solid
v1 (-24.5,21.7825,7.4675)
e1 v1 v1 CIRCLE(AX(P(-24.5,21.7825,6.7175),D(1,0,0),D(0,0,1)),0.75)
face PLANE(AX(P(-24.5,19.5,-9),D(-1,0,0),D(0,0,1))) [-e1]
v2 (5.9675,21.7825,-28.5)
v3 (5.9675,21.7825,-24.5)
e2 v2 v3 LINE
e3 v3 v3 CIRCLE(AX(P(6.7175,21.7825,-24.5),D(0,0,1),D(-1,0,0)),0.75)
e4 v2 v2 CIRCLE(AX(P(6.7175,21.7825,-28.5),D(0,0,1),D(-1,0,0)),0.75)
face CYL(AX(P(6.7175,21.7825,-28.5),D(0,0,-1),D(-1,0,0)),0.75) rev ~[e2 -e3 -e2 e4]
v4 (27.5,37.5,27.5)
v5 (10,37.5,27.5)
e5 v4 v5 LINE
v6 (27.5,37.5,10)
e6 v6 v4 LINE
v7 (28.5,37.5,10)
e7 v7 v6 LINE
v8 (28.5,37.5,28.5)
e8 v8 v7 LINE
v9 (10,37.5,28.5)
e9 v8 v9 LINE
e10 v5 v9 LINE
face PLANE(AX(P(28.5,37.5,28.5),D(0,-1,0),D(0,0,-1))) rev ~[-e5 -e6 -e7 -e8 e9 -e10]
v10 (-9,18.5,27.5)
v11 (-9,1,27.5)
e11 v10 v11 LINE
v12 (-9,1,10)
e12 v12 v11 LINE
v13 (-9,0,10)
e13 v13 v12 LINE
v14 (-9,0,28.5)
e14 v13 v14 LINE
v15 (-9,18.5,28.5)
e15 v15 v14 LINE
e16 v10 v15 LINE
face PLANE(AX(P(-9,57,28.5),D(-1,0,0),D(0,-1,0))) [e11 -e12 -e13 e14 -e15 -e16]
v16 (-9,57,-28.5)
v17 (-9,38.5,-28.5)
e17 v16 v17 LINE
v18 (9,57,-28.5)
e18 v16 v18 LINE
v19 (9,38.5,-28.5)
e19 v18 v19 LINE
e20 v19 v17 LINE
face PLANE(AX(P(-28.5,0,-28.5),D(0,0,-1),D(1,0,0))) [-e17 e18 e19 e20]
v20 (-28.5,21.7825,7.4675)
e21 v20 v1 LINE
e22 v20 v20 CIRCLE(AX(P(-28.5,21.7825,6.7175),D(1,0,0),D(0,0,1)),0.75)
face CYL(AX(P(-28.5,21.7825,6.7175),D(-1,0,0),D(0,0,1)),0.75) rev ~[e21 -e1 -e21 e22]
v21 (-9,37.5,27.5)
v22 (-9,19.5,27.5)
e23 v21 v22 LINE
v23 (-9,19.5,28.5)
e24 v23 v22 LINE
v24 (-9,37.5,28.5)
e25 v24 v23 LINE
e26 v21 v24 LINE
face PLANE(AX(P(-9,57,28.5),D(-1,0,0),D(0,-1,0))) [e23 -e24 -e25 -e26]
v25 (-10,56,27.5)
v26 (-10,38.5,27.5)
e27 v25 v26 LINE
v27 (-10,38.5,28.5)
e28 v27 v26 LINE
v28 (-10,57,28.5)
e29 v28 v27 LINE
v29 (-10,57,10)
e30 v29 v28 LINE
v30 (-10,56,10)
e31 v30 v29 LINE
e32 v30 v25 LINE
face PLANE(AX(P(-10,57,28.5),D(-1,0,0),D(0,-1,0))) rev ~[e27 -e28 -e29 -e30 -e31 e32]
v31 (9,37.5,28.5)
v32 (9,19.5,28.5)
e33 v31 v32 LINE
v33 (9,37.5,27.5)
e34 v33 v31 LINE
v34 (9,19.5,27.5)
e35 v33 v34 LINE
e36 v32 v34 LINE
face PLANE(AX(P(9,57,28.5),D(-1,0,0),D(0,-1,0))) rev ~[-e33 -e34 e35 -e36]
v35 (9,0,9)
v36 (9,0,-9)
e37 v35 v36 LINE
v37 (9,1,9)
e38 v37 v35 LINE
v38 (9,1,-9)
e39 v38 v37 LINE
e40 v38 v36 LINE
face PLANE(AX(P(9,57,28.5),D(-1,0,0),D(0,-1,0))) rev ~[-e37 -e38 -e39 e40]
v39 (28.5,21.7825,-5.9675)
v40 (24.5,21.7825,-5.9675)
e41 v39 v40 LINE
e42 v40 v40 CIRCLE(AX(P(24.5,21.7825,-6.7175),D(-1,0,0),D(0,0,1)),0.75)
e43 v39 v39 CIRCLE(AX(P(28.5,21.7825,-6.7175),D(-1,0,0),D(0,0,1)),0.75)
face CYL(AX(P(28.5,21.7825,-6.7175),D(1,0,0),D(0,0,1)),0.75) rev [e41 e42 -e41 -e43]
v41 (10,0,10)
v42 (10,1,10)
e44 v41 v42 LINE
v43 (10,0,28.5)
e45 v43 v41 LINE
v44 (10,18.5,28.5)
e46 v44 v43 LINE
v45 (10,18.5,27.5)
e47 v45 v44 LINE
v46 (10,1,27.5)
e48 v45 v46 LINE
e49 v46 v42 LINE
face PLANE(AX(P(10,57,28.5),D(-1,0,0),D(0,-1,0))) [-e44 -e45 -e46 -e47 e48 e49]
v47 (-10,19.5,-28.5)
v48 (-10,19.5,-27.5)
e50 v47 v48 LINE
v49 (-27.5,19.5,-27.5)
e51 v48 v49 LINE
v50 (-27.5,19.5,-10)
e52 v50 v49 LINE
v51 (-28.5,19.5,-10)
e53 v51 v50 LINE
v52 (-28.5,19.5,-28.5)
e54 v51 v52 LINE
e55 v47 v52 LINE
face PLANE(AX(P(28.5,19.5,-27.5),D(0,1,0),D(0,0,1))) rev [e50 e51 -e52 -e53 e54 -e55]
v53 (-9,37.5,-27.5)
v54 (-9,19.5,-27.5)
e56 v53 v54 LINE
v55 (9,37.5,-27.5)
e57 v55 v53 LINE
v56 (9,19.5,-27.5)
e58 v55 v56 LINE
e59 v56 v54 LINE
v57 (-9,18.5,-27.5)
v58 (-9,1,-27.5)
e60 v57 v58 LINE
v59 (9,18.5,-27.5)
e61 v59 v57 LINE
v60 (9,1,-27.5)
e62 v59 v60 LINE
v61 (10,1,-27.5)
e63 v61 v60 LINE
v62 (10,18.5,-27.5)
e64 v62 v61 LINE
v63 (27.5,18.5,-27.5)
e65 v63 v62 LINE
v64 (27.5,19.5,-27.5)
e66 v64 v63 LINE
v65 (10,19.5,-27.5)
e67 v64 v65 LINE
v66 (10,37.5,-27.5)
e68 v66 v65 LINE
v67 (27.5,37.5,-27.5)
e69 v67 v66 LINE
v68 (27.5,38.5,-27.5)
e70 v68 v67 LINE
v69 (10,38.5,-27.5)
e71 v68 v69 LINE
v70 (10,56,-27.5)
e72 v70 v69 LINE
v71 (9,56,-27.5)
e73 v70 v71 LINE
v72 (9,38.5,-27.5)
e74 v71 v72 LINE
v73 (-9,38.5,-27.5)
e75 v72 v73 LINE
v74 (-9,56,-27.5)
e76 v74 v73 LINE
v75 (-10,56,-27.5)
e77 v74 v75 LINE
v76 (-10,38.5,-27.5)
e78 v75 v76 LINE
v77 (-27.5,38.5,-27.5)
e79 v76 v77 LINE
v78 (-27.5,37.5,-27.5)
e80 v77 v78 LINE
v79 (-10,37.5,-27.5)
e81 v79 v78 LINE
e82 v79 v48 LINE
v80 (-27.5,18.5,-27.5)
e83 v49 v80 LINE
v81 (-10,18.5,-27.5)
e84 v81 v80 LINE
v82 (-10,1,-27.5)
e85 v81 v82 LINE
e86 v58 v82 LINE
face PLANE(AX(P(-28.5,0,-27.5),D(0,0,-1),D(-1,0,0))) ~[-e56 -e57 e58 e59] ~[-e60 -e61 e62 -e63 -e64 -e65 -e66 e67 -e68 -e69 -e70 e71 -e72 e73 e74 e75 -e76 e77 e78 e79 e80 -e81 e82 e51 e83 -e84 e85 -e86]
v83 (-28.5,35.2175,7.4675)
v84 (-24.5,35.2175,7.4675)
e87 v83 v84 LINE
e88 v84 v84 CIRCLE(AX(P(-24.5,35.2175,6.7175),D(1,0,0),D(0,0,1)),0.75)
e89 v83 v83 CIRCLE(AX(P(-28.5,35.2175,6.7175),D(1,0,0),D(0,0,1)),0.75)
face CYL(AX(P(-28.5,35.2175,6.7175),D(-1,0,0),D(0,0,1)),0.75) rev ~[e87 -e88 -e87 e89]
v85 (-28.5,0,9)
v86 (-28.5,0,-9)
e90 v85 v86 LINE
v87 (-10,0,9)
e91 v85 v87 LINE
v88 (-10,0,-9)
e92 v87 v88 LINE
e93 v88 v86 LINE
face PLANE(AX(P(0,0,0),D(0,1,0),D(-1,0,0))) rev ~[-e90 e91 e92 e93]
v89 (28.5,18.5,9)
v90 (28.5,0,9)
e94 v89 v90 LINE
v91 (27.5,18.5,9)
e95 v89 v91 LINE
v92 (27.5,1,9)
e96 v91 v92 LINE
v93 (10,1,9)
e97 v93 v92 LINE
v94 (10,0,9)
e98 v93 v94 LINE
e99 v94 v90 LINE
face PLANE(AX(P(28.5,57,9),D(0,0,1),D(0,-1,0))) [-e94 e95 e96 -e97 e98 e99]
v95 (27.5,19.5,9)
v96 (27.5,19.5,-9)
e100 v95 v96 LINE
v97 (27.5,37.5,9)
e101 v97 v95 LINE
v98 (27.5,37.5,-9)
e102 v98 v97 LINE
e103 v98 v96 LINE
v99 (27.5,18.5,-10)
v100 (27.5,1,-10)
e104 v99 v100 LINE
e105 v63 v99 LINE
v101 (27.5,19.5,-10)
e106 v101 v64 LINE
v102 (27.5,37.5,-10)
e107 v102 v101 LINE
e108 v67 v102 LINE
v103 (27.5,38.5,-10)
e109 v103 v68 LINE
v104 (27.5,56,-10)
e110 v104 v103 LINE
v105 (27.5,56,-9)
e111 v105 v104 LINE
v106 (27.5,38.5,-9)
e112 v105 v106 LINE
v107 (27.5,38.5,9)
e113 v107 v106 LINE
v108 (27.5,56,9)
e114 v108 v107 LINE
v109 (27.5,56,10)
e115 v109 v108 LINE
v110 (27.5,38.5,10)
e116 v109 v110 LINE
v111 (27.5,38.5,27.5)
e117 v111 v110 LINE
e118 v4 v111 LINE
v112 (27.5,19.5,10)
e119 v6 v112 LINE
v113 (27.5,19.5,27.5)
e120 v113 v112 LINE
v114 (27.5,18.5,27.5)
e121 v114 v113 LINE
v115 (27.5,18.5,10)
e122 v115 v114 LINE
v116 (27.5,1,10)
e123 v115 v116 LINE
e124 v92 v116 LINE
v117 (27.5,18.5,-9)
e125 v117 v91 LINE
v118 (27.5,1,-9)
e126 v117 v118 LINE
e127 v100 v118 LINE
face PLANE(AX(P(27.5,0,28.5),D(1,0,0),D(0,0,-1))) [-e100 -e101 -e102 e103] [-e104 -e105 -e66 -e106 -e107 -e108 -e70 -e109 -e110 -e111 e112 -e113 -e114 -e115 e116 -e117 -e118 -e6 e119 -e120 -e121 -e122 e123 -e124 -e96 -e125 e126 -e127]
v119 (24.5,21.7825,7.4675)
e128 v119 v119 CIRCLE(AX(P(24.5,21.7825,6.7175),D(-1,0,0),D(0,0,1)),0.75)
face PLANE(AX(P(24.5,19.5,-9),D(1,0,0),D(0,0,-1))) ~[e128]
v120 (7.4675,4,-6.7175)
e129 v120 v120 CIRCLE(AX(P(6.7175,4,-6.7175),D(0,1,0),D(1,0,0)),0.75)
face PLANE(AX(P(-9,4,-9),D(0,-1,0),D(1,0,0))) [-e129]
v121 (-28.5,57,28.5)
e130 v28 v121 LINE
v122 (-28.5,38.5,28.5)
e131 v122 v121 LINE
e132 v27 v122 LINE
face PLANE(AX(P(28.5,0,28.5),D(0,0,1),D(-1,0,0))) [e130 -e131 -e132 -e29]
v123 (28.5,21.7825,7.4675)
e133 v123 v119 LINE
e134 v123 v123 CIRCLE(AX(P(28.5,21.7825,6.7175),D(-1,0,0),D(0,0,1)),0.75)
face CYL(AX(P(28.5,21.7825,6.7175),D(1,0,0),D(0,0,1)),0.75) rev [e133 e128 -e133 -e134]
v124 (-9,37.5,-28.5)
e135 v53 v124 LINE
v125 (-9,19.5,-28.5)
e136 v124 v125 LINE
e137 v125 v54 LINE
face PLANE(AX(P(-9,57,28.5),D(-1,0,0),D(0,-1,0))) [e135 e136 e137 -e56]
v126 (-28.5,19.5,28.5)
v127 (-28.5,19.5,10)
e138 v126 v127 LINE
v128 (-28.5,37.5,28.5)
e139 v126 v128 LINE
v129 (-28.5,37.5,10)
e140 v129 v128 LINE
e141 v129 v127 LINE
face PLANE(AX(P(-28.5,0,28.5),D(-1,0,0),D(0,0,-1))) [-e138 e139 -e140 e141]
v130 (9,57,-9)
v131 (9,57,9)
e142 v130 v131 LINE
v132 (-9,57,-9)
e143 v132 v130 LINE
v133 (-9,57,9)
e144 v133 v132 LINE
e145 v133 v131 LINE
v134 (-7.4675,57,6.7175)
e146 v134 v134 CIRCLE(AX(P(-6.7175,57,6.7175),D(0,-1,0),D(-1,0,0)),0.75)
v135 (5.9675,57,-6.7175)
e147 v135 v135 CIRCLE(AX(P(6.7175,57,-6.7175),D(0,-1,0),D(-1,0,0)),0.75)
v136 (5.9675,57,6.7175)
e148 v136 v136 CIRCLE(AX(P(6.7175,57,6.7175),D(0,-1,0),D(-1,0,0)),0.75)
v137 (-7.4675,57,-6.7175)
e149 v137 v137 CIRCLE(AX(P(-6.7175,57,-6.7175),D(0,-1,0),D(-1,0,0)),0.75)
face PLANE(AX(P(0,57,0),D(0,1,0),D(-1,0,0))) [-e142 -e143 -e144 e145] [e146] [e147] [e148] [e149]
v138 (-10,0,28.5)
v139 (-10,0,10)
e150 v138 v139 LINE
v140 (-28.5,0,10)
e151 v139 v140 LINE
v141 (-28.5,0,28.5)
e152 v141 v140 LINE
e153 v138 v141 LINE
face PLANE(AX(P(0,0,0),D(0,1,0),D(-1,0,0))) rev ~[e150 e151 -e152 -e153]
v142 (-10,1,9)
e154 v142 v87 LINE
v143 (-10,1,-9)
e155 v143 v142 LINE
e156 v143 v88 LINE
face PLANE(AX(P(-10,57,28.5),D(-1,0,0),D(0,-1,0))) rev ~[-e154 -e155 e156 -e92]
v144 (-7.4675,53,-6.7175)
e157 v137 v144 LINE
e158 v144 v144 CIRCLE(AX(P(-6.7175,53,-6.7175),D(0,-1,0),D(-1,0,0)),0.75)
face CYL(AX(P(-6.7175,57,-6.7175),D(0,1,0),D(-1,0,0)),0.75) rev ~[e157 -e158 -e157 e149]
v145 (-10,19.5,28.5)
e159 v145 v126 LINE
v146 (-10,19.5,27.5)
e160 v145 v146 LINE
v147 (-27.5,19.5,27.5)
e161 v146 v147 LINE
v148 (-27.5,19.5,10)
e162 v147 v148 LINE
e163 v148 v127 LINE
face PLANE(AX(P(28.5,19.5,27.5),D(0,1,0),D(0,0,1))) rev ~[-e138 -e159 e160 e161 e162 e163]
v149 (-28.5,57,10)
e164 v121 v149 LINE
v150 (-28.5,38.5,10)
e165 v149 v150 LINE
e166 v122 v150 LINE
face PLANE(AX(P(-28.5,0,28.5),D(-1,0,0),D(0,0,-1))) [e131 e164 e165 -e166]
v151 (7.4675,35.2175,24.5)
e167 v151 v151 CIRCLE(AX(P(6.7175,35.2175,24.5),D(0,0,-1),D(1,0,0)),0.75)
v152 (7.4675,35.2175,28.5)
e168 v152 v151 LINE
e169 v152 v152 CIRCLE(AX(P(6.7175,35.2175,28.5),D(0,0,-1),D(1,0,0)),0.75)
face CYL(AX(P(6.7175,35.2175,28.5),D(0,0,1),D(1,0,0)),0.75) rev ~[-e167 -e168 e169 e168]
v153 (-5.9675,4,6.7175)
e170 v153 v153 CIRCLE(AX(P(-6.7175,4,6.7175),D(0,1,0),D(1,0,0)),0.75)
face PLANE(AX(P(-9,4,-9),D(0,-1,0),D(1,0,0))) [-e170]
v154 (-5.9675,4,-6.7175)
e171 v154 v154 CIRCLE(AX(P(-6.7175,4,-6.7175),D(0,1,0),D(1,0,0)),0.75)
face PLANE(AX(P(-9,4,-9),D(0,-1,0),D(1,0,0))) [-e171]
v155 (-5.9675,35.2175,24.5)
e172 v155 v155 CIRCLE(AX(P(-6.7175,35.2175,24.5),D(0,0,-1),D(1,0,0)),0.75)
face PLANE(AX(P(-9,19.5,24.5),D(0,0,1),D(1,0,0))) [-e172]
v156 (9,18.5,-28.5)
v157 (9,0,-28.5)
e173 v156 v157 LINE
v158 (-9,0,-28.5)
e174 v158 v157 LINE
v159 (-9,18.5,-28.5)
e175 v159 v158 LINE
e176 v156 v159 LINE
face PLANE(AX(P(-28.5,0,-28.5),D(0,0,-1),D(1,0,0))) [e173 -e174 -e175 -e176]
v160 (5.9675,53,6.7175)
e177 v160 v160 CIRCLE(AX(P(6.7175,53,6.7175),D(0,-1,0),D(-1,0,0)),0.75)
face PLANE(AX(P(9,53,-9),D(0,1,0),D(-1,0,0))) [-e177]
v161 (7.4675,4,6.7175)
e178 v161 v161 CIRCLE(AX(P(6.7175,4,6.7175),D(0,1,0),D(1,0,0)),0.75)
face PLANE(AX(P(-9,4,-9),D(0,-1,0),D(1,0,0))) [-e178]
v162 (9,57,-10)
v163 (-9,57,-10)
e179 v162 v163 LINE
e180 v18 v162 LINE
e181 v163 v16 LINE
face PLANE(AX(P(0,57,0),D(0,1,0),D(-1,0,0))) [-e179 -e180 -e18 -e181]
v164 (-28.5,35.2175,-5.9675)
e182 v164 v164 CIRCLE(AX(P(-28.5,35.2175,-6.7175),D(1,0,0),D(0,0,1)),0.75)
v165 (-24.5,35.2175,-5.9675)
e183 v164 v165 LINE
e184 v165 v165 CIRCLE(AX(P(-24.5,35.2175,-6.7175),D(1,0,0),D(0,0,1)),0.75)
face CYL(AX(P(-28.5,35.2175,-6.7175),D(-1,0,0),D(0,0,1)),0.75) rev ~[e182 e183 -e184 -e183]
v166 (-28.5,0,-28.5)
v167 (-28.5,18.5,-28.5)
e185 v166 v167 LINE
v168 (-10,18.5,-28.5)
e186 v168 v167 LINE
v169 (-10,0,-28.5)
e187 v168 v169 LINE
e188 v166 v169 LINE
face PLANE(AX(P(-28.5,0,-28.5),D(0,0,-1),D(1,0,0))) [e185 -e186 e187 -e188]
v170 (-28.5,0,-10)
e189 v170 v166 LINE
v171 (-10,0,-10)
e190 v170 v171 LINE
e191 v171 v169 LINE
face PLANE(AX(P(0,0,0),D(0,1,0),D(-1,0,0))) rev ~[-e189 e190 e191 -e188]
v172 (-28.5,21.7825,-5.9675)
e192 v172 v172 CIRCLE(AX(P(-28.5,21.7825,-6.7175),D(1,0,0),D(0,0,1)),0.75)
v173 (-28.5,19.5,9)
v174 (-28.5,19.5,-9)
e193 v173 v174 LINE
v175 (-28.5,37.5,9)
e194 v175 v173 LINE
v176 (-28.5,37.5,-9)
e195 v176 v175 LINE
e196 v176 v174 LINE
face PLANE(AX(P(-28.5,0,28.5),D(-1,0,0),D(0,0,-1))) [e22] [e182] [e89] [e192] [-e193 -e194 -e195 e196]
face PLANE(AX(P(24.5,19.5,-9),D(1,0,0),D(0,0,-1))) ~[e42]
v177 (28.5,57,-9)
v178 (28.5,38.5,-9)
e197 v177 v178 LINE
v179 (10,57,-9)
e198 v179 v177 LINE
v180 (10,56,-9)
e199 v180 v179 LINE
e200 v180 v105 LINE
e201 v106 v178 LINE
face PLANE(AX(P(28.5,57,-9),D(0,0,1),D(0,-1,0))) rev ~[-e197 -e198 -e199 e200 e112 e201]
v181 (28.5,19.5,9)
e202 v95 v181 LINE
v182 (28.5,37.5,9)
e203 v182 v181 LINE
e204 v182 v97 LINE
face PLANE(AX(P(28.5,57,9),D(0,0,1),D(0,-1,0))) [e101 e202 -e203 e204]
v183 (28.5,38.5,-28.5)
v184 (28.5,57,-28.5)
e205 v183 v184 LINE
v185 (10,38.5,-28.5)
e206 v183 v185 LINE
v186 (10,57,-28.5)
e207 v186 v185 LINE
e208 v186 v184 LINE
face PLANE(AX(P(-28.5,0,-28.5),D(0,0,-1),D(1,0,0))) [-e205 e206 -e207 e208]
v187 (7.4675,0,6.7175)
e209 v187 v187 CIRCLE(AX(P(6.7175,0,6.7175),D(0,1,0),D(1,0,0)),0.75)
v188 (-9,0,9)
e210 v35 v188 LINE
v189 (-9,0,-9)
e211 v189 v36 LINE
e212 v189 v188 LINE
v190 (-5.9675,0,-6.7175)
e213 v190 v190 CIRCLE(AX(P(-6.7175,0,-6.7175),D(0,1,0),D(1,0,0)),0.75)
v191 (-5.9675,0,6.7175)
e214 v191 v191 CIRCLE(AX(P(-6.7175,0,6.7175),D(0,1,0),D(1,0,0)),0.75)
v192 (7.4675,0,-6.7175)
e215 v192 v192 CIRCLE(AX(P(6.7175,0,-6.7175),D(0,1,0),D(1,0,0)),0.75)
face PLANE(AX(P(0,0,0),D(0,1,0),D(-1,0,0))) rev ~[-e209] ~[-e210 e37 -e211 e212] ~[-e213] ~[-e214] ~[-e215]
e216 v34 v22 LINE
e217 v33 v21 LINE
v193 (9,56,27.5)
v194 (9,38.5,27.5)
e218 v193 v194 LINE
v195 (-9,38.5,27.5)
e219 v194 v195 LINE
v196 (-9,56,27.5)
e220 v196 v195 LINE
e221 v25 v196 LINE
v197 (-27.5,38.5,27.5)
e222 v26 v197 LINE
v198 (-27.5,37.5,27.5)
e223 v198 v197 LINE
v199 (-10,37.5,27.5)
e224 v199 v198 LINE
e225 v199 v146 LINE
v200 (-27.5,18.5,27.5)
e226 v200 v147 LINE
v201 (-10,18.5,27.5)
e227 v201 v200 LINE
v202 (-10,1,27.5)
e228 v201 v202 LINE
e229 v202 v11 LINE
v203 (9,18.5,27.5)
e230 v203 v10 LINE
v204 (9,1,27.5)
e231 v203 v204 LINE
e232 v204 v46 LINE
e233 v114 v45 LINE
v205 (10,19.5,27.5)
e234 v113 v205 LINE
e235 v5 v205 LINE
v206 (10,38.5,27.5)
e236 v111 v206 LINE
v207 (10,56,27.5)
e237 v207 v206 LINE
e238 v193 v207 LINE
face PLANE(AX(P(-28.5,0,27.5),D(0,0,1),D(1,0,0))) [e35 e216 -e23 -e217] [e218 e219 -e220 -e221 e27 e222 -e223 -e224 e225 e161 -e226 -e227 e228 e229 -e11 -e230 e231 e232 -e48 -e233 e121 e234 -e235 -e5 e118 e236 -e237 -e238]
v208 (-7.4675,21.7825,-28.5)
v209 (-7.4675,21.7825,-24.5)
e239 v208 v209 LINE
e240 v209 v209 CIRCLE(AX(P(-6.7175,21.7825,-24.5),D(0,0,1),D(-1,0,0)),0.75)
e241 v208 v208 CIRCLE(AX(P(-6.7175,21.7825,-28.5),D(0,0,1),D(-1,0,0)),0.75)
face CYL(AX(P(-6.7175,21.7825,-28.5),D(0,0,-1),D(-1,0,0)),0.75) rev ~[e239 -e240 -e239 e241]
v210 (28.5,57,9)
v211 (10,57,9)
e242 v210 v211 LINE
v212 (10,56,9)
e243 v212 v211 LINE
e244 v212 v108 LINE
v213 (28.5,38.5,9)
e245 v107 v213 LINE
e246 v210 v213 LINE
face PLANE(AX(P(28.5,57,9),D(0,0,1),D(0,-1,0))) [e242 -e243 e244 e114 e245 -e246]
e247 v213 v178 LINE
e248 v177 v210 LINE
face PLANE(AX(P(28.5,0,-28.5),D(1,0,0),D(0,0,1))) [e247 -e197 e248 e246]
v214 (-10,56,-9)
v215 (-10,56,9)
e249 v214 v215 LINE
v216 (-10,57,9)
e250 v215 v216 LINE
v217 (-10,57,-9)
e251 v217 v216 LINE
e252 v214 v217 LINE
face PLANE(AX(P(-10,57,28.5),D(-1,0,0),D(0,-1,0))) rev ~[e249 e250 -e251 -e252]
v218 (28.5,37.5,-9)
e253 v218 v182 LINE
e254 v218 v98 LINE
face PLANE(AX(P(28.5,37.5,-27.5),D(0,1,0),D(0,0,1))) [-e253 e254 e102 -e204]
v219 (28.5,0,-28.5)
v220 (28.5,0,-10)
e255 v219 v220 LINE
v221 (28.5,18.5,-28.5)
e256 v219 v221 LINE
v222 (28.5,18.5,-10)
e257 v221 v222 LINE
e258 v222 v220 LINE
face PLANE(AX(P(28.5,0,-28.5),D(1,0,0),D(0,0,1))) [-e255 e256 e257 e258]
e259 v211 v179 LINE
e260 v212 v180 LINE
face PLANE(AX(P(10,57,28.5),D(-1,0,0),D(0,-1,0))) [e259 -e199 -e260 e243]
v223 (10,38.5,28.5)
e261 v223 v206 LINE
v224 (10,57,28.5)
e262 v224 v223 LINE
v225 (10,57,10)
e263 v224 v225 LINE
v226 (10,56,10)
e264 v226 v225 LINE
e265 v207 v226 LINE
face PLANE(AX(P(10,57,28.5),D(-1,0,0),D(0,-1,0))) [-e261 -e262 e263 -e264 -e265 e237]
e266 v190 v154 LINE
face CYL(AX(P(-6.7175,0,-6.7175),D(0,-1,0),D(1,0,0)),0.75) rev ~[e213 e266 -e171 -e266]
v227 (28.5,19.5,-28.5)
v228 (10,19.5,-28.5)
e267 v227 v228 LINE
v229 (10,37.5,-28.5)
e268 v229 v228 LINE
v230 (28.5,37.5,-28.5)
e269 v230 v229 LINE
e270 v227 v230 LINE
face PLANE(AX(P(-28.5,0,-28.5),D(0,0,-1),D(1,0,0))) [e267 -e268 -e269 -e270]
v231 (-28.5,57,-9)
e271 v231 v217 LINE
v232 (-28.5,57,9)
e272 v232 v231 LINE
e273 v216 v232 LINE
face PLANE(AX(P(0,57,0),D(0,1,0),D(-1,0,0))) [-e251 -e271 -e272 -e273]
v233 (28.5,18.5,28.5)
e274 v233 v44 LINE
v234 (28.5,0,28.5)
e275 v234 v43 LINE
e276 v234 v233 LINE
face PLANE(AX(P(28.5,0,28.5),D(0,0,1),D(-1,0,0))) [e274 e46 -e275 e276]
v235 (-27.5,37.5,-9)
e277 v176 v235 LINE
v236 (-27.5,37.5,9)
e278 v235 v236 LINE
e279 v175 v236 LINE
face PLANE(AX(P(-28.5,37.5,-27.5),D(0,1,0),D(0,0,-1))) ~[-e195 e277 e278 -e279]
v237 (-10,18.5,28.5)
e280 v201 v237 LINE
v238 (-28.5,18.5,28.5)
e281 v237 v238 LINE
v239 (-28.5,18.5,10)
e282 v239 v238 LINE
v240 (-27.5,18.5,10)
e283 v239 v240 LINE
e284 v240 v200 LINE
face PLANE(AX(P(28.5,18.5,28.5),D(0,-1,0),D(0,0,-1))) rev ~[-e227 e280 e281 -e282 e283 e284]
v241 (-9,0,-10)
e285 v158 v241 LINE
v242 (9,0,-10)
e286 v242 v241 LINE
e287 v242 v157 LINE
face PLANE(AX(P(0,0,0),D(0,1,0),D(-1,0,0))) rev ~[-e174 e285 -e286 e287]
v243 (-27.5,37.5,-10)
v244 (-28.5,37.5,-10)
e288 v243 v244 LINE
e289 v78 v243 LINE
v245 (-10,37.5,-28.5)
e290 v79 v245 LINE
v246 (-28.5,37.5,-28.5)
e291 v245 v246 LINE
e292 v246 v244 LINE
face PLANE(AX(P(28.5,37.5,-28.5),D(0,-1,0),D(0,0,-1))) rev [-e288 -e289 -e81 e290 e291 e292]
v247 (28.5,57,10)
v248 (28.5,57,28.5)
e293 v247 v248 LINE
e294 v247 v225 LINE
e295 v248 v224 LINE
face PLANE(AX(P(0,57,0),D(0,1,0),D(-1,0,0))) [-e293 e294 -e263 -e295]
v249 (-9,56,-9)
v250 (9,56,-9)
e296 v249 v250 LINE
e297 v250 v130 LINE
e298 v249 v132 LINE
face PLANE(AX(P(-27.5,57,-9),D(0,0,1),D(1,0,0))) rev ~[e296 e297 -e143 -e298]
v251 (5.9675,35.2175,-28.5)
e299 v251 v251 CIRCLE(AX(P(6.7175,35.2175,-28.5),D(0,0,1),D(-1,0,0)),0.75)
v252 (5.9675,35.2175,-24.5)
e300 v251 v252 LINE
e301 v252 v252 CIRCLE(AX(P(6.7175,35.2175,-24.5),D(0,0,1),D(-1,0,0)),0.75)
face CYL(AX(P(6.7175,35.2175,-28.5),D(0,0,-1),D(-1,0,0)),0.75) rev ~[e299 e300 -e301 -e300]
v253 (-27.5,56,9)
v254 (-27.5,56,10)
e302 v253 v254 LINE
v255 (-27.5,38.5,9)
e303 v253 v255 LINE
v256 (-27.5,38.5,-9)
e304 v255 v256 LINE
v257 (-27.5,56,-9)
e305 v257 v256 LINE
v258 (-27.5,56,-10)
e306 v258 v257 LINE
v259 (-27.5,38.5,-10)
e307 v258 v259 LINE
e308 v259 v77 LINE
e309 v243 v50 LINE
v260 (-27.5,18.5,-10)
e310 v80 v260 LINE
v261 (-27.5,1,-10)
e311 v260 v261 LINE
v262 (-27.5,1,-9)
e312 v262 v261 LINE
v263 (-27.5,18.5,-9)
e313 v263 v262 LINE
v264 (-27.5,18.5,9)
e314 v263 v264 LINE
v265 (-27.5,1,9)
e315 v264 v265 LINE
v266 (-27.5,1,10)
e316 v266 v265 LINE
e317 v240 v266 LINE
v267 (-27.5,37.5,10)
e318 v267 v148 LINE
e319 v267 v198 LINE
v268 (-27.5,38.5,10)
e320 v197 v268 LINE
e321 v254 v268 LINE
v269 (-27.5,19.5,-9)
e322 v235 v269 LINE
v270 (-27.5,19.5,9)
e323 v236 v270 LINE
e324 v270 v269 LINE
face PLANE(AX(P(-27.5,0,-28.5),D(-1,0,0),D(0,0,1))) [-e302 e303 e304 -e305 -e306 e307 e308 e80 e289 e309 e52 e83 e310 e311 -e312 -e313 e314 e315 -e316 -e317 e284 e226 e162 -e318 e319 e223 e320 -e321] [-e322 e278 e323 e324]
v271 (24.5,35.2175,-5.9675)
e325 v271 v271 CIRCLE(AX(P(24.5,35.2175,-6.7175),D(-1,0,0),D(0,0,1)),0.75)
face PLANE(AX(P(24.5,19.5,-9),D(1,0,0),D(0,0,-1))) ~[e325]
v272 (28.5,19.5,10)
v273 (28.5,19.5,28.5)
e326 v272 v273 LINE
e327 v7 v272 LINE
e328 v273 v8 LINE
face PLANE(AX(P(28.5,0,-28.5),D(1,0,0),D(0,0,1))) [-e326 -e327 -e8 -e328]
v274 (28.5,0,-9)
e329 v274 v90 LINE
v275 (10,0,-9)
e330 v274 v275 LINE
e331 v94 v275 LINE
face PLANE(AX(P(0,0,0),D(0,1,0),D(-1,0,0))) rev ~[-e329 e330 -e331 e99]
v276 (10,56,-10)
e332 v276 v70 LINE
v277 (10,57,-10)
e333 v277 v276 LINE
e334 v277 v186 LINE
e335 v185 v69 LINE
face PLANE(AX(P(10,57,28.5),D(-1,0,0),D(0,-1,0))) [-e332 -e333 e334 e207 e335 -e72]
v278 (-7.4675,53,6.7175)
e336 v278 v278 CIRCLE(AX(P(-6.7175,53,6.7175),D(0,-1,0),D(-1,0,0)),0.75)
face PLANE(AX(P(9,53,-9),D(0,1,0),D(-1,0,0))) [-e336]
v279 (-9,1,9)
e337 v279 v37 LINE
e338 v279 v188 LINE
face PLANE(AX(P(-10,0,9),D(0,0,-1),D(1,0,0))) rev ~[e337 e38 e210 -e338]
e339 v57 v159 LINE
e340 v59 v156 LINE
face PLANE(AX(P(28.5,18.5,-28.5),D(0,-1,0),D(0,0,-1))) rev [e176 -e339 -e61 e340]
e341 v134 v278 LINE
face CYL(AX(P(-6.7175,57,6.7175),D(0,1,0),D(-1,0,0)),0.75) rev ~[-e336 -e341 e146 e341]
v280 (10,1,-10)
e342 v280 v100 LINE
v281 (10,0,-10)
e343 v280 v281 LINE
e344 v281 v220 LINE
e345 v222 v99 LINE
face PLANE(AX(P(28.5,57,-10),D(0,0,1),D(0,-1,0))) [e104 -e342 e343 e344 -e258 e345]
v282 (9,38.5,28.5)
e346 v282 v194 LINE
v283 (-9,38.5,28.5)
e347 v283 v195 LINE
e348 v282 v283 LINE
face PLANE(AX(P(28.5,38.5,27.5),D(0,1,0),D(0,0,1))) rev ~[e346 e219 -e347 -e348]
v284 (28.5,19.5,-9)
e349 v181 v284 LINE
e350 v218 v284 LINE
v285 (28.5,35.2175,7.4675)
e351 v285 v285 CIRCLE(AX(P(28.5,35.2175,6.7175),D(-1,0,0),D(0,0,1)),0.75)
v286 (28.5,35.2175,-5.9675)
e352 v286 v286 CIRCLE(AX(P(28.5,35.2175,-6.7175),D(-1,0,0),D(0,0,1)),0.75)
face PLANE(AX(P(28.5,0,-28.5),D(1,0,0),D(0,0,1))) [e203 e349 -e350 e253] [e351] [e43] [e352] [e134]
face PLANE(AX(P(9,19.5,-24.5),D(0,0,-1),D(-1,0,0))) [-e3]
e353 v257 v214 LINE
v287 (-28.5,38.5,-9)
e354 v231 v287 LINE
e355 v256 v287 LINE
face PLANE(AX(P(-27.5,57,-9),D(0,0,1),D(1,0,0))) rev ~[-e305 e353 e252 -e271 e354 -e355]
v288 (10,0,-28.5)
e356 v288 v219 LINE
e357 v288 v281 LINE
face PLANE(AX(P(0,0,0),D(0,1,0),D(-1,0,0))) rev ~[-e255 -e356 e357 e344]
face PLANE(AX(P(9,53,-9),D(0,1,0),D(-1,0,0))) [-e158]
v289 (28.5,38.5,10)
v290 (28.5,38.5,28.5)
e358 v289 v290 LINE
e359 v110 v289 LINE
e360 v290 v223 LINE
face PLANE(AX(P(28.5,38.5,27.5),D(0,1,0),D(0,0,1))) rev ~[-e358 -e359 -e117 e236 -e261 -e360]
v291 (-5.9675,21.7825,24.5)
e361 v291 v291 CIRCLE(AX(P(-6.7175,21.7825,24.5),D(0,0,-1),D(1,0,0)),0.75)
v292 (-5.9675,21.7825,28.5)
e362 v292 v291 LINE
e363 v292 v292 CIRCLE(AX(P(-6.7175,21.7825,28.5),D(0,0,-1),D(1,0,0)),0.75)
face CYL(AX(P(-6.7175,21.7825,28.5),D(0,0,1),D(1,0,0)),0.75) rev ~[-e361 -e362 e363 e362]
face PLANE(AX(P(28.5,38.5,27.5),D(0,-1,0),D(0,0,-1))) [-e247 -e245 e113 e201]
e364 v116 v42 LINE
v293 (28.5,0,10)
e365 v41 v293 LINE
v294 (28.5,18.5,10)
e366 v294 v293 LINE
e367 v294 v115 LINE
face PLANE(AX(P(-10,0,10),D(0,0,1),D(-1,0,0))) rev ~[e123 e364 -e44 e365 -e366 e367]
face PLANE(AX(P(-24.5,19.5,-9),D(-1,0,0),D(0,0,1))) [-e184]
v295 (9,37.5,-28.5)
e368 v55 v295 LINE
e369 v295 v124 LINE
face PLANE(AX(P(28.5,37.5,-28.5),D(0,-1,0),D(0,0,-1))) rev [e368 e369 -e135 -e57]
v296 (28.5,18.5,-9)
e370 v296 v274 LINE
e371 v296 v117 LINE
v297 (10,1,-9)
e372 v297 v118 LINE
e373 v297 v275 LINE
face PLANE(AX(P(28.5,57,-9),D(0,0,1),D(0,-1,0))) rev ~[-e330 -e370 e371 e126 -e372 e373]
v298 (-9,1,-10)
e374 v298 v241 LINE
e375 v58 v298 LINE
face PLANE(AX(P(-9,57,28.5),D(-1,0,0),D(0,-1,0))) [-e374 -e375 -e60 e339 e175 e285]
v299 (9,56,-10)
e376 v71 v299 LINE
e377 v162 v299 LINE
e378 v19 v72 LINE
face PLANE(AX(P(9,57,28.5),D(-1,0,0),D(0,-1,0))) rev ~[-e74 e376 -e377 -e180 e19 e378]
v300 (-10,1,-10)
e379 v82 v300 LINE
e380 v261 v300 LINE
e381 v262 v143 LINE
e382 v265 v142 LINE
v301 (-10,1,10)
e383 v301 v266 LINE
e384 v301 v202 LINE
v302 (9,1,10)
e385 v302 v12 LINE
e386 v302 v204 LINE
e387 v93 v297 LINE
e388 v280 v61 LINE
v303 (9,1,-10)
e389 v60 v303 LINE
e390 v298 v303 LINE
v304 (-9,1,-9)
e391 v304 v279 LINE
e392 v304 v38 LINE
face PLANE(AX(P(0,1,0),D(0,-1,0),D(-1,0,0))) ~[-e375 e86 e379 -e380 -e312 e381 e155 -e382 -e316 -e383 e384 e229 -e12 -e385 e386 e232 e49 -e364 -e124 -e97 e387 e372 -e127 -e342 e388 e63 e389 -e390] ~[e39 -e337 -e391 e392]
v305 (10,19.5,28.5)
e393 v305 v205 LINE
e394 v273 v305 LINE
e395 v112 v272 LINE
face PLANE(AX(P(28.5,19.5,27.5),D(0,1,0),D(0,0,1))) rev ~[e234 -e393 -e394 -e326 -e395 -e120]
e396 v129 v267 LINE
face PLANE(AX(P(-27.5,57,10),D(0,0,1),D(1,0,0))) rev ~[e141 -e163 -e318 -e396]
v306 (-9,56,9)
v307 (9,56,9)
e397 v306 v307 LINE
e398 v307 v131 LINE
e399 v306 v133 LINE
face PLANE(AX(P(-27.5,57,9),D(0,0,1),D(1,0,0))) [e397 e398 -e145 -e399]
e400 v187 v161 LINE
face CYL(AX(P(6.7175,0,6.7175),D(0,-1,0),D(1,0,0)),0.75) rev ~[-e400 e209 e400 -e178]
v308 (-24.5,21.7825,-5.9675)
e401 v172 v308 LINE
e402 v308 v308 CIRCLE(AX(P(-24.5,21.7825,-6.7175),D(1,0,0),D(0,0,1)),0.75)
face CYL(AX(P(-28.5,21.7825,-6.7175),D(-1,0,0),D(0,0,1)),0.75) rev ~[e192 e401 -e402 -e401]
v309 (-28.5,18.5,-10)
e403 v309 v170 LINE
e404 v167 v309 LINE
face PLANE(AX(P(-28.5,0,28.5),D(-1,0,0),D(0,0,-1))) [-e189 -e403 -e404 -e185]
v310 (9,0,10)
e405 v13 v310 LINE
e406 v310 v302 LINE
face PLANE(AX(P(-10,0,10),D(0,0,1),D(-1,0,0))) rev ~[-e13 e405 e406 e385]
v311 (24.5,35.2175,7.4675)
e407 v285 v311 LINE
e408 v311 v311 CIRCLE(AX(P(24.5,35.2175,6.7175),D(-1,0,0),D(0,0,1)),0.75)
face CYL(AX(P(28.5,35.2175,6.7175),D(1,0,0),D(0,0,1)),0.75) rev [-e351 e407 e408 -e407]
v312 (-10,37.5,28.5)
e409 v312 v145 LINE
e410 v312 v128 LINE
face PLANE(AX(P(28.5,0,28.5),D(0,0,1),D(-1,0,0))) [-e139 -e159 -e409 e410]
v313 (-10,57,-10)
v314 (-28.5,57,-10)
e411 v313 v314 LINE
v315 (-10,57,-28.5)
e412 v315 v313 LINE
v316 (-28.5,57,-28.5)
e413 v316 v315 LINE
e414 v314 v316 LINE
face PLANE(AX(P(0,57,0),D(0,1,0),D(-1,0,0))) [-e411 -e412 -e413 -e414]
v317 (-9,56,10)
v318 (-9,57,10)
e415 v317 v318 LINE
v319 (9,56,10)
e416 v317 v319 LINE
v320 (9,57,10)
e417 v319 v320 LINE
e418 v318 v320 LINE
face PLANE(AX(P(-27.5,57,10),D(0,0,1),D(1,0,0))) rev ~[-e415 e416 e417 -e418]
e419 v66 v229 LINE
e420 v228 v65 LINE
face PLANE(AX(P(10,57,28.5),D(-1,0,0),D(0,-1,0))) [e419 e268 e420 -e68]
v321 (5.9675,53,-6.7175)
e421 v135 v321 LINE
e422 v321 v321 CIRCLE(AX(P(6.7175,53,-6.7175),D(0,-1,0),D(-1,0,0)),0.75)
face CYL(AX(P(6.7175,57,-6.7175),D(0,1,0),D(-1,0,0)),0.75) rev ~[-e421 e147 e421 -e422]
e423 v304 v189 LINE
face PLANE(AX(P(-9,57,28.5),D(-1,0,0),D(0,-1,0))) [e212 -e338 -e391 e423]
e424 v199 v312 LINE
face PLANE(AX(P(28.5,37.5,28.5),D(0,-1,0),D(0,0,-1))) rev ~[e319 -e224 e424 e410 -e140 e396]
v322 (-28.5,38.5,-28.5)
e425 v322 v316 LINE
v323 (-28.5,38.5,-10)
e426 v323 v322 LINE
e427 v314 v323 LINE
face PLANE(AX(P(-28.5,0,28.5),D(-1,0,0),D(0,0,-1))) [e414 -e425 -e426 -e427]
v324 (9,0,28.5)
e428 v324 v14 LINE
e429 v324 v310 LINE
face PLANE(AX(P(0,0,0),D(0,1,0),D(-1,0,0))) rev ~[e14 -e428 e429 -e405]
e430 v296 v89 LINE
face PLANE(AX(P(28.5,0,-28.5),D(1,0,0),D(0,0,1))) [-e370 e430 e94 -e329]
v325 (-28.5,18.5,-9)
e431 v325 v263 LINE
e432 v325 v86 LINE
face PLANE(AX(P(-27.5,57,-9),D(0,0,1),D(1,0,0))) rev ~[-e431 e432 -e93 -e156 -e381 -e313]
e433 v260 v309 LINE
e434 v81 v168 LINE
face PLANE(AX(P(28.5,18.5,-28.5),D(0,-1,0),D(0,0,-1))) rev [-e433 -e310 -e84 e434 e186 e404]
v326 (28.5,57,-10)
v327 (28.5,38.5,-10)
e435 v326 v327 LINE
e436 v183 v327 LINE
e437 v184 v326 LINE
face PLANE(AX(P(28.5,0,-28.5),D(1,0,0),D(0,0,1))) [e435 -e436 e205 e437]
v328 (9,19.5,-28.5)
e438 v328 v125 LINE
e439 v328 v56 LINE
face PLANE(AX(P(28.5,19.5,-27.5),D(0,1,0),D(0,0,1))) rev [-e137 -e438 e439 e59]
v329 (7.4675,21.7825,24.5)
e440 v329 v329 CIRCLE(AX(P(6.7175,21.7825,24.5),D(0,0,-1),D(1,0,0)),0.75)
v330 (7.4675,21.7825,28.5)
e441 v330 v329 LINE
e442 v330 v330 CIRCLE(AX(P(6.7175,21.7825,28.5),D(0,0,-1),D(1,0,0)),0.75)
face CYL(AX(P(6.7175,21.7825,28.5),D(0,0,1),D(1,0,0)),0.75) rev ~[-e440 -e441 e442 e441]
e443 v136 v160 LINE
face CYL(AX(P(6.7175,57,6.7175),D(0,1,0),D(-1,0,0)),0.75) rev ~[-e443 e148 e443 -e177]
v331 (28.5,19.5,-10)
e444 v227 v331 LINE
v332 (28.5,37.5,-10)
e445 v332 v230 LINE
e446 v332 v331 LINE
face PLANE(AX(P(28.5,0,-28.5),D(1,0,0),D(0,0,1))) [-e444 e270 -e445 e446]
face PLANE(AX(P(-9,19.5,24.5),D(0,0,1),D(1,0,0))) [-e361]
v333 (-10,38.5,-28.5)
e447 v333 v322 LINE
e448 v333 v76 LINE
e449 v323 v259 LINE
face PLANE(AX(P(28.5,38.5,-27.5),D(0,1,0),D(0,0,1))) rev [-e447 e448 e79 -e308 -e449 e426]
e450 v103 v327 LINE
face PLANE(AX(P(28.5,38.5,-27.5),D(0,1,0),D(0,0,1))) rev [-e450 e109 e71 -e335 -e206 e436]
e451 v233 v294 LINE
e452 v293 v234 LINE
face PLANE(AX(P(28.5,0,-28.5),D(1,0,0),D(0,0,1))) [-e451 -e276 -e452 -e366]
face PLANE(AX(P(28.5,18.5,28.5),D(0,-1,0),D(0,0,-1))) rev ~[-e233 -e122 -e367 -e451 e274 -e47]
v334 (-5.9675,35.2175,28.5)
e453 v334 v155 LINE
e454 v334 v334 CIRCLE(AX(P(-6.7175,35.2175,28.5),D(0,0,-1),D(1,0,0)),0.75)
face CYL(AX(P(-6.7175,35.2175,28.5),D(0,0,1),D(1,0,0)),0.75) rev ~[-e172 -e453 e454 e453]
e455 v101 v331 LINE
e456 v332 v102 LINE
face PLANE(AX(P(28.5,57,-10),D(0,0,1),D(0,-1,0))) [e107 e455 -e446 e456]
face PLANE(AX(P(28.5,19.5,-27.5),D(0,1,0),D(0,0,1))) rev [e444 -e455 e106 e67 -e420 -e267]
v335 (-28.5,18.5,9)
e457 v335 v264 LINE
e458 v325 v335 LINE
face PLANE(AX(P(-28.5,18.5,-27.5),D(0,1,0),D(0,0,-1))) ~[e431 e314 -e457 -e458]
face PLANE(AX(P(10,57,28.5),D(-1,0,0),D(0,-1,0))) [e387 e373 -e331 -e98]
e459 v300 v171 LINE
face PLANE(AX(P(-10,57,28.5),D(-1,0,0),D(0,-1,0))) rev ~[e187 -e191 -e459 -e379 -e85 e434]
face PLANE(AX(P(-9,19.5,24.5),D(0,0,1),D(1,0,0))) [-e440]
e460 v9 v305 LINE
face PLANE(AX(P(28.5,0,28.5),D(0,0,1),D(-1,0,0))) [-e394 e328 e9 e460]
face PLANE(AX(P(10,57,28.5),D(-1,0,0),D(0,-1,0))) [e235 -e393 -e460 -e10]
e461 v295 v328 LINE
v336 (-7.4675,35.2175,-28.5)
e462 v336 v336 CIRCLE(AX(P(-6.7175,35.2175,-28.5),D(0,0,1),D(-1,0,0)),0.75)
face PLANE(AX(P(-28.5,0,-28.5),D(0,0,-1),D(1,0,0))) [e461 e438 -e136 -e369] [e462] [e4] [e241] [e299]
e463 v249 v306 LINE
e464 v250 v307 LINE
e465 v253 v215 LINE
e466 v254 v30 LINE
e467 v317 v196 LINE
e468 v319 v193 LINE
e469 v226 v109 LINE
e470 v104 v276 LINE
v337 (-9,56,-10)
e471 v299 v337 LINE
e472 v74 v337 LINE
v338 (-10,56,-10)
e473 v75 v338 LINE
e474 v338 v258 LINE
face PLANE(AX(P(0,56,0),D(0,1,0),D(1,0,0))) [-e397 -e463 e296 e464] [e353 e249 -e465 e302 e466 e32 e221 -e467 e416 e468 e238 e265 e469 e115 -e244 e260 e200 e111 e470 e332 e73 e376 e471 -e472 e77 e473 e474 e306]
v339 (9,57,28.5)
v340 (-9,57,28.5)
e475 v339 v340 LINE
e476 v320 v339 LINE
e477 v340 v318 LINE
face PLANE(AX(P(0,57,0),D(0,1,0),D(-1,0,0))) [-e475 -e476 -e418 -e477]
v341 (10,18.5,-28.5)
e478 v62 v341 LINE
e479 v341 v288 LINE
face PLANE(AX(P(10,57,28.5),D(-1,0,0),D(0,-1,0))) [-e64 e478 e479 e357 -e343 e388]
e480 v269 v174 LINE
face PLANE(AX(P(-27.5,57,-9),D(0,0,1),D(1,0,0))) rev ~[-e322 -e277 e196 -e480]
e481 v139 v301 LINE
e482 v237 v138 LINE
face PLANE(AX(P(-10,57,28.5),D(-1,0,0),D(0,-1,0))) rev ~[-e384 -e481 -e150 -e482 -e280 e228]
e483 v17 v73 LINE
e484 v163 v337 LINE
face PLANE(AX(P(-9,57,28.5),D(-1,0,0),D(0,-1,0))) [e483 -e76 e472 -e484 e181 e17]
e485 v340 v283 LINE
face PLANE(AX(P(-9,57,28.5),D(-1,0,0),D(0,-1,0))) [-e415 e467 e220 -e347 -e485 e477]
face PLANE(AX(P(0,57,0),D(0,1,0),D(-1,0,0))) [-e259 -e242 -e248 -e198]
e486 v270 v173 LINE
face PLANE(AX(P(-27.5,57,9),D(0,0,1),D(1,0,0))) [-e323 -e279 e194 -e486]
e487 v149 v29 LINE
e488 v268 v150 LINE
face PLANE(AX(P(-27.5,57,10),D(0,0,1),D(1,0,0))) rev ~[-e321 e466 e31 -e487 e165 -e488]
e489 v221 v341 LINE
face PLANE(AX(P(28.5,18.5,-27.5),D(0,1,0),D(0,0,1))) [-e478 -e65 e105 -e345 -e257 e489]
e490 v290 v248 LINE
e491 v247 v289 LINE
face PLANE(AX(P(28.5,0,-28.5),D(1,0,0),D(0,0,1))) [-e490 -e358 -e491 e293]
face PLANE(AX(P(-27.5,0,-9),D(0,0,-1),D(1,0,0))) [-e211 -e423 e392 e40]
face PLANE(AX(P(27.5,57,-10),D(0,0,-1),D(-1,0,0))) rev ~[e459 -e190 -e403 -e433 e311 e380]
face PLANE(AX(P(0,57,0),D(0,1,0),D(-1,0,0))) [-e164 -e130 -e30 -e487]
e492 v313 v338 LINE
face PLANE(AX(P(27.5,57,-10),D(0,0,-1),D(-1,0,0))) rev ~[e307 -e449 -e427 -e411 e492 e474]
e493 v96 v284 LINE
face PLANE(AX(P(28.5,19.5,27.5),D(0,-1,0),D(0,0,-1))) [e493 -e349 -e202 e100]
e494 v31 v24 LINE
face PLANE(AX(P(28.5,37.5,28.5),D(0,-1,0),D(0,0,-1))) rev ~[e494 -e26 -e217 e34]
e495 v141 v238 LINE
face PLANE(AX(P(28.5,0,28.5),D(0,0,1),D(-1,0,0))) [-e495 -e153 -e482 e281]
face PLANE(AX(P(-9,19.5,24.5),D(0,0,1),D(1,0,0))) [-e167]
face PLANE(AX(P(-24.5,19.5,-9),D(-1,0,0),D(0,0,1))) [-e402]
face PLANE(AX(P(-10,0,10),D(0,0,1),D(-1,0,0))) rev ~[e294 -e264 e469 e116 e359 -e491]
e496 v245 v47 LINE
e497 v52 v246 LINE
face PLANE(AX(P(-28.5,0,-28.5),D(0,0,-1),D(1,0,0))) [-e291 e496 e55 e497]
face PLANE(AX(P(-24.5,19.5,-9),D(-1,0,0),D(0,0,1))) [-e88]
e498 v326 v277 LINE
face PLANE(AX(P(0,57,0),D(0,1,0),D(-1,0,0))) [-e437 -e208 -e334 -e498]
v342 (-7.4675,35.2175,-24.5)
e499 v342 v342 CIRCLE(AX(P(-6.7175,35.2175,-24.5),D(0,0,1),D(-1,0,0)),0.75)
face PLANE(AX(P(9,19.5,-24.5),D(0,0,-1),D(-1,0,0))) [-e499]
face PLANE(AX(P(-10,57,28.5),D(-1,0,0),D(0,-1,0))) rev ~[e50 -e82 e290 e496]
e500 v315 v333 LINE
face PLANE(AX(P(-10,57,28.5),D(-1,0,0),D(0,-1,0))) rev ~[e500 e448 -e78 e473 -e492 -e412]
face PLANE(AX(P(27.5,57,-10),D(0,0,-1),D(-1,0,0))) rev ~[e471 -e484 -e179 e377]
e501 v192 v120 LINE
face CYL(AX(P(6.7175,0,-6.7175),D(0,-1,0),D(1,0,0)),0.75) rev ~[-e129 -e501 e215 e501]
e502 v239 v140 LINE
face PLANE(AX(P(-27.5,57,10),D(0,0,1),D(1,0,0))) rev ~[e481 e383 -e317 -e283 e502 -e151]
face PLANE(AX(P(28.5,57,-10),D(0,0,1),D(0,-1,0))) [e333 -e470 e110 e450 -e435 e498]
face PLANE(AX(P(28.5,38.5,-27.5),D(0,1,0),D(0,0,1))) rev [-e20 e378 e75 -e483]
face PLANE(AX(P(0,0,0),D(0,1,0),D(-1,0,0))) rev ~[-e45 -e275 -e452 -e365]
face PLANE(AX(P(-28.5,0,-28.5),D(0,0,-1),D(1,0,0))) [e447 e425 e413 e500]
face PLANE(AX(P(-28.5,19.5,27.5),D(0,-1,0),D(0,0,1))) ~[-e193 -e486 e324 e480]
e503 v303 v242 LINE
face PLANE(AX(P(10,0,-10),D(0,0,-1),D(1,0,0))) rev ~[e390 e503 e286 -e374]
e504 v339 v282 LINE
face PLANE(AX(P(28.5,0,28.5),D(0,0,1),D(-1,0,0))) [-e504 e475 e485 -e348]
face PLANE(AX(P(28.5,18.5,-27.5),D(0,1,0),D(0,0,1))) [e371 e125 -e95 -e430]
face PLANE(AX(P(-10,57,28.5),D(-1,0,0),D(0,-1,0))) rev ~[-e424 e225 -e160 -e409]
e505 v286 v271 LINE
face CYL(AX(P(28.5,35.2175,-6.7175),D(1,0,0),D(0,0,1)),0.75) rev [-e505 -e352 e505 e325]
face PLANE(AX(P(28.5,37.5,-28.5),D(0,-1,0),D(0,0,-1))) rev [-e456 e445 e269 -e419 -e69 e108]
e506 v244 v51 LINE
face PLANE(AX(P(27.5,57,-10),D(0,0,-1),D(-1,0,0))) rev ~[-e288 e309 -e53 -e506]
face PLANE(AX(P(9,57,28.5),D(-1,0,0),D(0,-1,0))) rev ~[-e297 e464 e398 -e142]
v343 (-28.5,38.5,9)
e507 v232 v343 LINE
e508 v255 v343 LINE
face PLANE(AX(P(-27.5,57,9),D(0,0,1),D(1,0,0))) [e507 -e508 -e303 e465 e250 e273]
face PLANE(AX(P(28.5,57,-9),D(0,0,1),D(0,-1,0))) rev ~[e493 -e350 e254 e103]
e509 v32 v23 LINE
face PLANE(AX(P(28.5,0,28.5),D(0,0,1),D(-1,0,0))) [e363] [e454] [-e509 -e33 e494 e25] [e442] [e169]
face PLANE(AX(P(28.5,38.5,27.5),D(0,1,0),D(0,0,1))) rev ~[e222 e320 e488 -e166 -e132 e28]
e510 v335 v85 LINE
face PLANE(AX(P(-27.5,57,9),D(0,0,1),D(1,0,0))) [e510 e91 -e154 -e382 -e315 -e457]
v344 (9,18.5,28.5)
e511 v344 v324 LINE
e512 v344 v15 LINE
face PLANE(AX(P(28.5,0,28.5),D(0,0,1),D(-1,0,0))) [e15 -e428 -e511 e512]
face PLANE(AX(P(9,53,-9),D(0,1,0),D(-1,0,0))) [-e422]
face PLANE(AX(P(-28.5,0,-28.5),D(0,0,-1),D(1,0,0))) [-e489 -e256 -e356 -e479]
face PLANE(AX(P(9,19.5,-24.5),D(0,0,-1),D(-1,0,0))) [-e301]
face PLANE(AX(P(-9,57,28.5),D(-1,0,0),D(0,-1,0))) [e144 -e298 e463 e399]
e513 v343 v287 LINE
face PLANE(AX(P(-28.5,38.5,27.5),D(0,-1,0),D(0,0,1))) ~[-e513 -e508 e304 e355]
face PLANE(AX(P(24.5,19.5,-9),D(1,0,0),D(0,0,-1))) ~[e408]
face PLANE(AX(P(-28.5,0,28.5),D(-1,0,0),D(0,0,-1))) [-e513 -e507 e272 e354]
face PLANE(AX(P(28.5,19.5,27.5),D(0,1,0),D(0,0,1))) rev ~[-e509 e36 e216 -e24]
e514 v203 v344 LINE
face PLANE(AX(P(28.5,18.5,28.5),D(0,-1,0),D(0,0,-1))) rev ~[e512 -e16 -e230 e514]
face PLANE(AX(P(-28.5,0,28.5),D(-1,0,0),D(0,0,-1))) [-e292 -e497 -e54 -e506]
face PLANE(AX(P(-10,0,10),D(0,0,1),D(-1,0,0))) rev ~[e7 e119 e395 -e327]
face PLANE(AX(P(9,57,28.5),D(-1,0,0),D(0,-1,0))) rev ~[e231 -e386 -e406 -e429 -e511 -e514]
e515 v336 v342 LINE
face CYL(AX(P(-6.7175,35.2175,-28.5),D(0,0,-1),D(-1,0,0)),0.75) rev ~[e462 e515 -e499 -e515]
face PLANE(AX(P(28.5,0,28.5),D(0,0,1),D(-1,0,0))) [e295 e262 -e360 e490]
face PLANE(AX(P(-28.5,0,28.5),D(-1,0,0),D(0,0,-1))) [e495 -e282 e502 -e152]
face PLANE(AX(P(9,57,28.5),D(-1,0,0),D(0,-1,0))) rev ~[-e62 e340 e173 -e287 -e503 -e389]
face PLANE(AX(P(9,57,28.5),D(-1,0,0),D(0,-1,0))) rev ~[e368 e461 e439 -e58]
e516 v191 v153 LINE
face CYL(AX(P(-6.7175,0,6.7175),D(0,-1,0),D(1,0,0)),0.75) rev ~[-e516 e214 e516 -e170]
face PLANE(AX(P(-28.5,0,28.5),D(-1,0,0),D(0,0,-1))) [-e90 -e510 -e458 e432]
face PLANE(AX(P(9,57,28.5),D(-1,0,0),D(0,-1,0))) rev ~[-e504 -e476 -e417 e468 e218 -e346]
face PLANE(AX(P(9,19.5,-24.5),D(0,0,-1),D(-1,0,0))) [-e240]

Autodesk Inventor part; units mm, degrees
ref_plane "YZ Plane" through (0, 0, 0) normal (1, 0, 0) x (0, 1, 0)
ref_plane "XY Plane" through (0, 0, 0) normal (0, 0, 1) x (1, 0, 0)
sketch "草图1" plane through (0, 0, 0) normal (0, 1, 0) x (-1, 0, 0)
  line L0 (-28.5, 28.5) -> (28.5, 28.5)
  line L1 (28.5, 28.5) -> (28.5, -28.5)
  line L2 (28.5, -28.5) -> (-28.5, -28.5)
  line L3 (-28.5, -28.5) -> (-28.5, 28.5)
  line L4 (-28.5, 28.5) -> (28.5, -28.5) construction
  line L5 (28.5, 28.5) -> (-28.5, -28.5) construction
  point P0 (0, 0)
  dimension "d0" = 57
extrude "拉伸1" add sketch "草图1" along normal blind 57
sketch "草图2" plane through (-28.5, 0, 28.5) normal (0, 0, 1) x (1, 0, 0)
  line L0 (57, 0) -> (0, 0) projected
  line L1 (57, 0) -> (57, 57) projected
  line L2 (0, 57) -> (57, 57) projected
  line L3 (0, 0) -> (0, 57) projected
  line L4 (0, 57) -> (57, 57) projected
  line L5 (18.5, 57) -> (18.5, 0)
  line L6 (57, 0) -> (0, 0) projected
  line L7 (19.5, 57) -> (19.5, 0)
  line L8 (37.5, 57) -> (37.5, 0)
  line L9 (38.5, 57) -> (38.5, 0)
  point P0 (28.5, 0)
  dimension "d3" = 18.5
  dimension "d4" = 1
  dimension "d5" = 1
  dimension "d6" = 18.5
extrude "拉伸2" cut sketch "草图2" against normal blind 1 contours L0 L8 L2 L9 | L0 L5 L2 L7
mirror "镜像1" about plane through (0, 0, 0) normal (0, 0, 1) of "拉伸2"
sketch "草图3" plane through (0, 57, 0) normal (0, 1, 0) x (1, 0, 0)
  line L0 (-9, 27.5) -> (-10, 27.5) projected
  line L1 (10, 27.5) -> (9, 27.5) projected
  line L2 (-10, -27.5) -> (-9, -27.5) projected
  line L3 (9, -27.5) -> (10, -27.5) projected
  line L4 (-10, 27.5) -> (-10, -27.5)
  line L5 (-9, 27.5) -> (-9, -27.5)
  line L6 (9, 27.5) -> (9, -27.5)
  line L7 (28.5, -28.5) -> (10, -28.5) projected
  line L8 (10, -27.5) -> (9, -27.5) projected
  line L9 (10, -27.5) -> (10, 27.5)
  point P0 (0, 0)
extrude "拉伸3" cut sketch "草图3" against normal blind 1
ref_plane "工作平面1" through (0, 28.5, 0) normal (0, 1, 0) x (-1, 0, 0)
mirror "镜像2" about plane through (0, 28.5, 0) normal (0, 1, 0) of "拉伸3"
pattern_circular "环形阵列1" count 4 over 360 about axis through (0, -10, 0) along (0, 1, 0) of "拉伸3"
pattern_circular "环形阵列2" count 4 over 360 about axis through (0, -10, 0) along (0, 1, 0) of "拉伸2"
sketch "草图4" plane through (0, 0, 0) normal (0, -1, 0) x (1, 0, 0)
  line L0 (-27.5, -9) -> (-27.5, -10) projected
  line L1 (-27.5, 10) -> (-27.5, 9) projected
  line L2 (27.5, 9) -> (27.5, 10) projected
  line L3 (27.5, -10) -> (27.5, -9) projected
  line L4 (10, -10) -> (27.5, -10) projected
  line L5 (-27.5, -10) -> (27.5, -10)
  line L6 (27.5, -10) -> (27.5, -9)
  line L7 (-27.5, -9) -> (27.5, -9)
  line L8 (-27.5, 9) -> (-10, 9) projected
  line L9 (-27.5, 9) -> (27.5, 9)
  line L10 (-10, 10) -> (-27.5, 10) projected
  line L11 (27.5, 10) -> (-27.5, 10)
  point P0 (0, 0)
extrude "拉伸4" cut sketch "草图4" against normal blind 1
pattern_circular "环形阵列3" count 4 over 360 about axis through (0, -10, 0) along (0, 1, 0) of "拉伸2", "环形阵列2"
sketch "草图5" plane through (28.5, 0, 9) normal (1, 0, 0) x (0, 0, -1)
  line L0 (-19.5, 0) -> (-19.5, 57) projected
  line L1 (-18.5, 56) -> (-18.5, 1) projected
  line L2 (-19.5, 18.5) -> (-18.5, 18.5)
  line L3 (-18.5, 18.5) -> (-18.5, 19.5)
  line L4 (-18.5, 19.5) -> (-19.5, 19.5)
  line L5 (-19.5, 19.5) -> (-19.5, 18.5)
  line L6 (-19.5, 37.5) -> (-18.5, 37.5)
  line L7 (-18.5, 37.5) -> (-18.5, 38.5)
  line L8 (-18.5, 38.5) -> (-19.5, 38.5)
  line L9 (-19.5, 38.5) -> (-19.5, 37.5)
  line L10 (-1, 0) -> (-19.5, 0) projected
  line L11 (-19.5, 57) -> (-1, 57) projected
  point P0 (9, 0)
  dimension "d23" = 1
  dimension "d24" = 18.5
  dimension "d25" = 1
  dimension "d26" = 18.5
extrude "拉伸5" cut sketch "草图5" against normal blind 60 contours L0 L4 L1 L2 | L0 L8 L1 L6
mirror "镜像3" about plane through (0, 0, 0) normal (0, 0, 1) of "拉伸5"
sketch "草图6" plane through (28.5, 0, 28.5) normal (1, 0, 0) x (0, 0, -1)
  line L0 (1, 38.5) -> (56, 38.5)
  line L1 (56, 38.5) -> (56, 37.5)
  line L2 (56, 37.5) -> (1, 37.5)
  line L3 (1, 37.5) -> (1, 38.5)
  line L4 (1, 18.5) -> (1, 19.5) projected
  line L5 (1, 19.5) -> (56, 19.5)
  line L6 (56, 19.5) -> (56, 18.5)
  line L7 (56, 18.5) -> (1, 18.5)
  line L8 (1, 18.5) -> (1, 19.5)
  point P0 (28.5, 0)
extrude "拉伸6" cut sketch "草图6" against normal blind 1
mirror "镜像4" about plane through (0, 0, 0) normal (1, 0, 0) of "拉伸6"
sketch "草图7" plane through (-28.5, 19.5, -9) normal (-1, 0, 0) x (0, 0, 1)
  line L0 (0, 0) -> (0, 18) construction
  line L1 (18, 18) -> (18, 0) construction
  line L2 (0, 0) -> (18, 18) construction
  line L3 (0, 18) -> (18, 0) construction
  circle A0 centre (9, 9) radius 9.5 construction
  circle A1 centre (2.2825, 2.2825) radius 0.75
  circle A2 centre (15.7175, 15.7175) radius 0.75
  circle A3 centre (15.7175, 2.2825) radius 0.75
  circle A4 centre (2.2825, 15.7175) radius 0.75
  point P0 (9, -19.5)
  dimension "d31" = 19
  dimension "d32" = 1.5
  dimension "d33" = 1.5
extrude "拉伸7" cut sketch "草图7" against normal blind 4
mirror "镜像5" about plane through (0, 0, 0) normal (1, 0, 0) of "拉伸7"
pattern_circular "环形阵列4" count 4 over 360 about axis through (0, -10, 0) along (0, 1, 0) of "拉伸7"
sketch "草图8" plane through (28.5, 19.5, 9) normal (1, 0, 0) x (0, 0, -1)
  circle A0 centre (9, 9) radius 9 construction
  line L0 (18, 18) -> (0, 18) construction
  line L1 (0, 0) -> (18, 0) construction
  line L2 (0, 18) -> (0, 0) construction
pattern_circular "环形阵列5" count 4 over 360 about axis through (28.5, 28.5, 0) along (1, 0, 0) of "拉伸7", "环形阵列4"
ref_plane "工作平面2" through (0, 0, 0) normal (0, 0, 1) x (1, 0, 0)
ref_plane "工作平面3" through (0, 0, 0) normal (1, 0, 0) x (0, 1, 0)
ref_plane "工作平面4" through (0, 0, 0) normal (1, 0, 0) x (0, 1, 0)
properties part number "魔方"
